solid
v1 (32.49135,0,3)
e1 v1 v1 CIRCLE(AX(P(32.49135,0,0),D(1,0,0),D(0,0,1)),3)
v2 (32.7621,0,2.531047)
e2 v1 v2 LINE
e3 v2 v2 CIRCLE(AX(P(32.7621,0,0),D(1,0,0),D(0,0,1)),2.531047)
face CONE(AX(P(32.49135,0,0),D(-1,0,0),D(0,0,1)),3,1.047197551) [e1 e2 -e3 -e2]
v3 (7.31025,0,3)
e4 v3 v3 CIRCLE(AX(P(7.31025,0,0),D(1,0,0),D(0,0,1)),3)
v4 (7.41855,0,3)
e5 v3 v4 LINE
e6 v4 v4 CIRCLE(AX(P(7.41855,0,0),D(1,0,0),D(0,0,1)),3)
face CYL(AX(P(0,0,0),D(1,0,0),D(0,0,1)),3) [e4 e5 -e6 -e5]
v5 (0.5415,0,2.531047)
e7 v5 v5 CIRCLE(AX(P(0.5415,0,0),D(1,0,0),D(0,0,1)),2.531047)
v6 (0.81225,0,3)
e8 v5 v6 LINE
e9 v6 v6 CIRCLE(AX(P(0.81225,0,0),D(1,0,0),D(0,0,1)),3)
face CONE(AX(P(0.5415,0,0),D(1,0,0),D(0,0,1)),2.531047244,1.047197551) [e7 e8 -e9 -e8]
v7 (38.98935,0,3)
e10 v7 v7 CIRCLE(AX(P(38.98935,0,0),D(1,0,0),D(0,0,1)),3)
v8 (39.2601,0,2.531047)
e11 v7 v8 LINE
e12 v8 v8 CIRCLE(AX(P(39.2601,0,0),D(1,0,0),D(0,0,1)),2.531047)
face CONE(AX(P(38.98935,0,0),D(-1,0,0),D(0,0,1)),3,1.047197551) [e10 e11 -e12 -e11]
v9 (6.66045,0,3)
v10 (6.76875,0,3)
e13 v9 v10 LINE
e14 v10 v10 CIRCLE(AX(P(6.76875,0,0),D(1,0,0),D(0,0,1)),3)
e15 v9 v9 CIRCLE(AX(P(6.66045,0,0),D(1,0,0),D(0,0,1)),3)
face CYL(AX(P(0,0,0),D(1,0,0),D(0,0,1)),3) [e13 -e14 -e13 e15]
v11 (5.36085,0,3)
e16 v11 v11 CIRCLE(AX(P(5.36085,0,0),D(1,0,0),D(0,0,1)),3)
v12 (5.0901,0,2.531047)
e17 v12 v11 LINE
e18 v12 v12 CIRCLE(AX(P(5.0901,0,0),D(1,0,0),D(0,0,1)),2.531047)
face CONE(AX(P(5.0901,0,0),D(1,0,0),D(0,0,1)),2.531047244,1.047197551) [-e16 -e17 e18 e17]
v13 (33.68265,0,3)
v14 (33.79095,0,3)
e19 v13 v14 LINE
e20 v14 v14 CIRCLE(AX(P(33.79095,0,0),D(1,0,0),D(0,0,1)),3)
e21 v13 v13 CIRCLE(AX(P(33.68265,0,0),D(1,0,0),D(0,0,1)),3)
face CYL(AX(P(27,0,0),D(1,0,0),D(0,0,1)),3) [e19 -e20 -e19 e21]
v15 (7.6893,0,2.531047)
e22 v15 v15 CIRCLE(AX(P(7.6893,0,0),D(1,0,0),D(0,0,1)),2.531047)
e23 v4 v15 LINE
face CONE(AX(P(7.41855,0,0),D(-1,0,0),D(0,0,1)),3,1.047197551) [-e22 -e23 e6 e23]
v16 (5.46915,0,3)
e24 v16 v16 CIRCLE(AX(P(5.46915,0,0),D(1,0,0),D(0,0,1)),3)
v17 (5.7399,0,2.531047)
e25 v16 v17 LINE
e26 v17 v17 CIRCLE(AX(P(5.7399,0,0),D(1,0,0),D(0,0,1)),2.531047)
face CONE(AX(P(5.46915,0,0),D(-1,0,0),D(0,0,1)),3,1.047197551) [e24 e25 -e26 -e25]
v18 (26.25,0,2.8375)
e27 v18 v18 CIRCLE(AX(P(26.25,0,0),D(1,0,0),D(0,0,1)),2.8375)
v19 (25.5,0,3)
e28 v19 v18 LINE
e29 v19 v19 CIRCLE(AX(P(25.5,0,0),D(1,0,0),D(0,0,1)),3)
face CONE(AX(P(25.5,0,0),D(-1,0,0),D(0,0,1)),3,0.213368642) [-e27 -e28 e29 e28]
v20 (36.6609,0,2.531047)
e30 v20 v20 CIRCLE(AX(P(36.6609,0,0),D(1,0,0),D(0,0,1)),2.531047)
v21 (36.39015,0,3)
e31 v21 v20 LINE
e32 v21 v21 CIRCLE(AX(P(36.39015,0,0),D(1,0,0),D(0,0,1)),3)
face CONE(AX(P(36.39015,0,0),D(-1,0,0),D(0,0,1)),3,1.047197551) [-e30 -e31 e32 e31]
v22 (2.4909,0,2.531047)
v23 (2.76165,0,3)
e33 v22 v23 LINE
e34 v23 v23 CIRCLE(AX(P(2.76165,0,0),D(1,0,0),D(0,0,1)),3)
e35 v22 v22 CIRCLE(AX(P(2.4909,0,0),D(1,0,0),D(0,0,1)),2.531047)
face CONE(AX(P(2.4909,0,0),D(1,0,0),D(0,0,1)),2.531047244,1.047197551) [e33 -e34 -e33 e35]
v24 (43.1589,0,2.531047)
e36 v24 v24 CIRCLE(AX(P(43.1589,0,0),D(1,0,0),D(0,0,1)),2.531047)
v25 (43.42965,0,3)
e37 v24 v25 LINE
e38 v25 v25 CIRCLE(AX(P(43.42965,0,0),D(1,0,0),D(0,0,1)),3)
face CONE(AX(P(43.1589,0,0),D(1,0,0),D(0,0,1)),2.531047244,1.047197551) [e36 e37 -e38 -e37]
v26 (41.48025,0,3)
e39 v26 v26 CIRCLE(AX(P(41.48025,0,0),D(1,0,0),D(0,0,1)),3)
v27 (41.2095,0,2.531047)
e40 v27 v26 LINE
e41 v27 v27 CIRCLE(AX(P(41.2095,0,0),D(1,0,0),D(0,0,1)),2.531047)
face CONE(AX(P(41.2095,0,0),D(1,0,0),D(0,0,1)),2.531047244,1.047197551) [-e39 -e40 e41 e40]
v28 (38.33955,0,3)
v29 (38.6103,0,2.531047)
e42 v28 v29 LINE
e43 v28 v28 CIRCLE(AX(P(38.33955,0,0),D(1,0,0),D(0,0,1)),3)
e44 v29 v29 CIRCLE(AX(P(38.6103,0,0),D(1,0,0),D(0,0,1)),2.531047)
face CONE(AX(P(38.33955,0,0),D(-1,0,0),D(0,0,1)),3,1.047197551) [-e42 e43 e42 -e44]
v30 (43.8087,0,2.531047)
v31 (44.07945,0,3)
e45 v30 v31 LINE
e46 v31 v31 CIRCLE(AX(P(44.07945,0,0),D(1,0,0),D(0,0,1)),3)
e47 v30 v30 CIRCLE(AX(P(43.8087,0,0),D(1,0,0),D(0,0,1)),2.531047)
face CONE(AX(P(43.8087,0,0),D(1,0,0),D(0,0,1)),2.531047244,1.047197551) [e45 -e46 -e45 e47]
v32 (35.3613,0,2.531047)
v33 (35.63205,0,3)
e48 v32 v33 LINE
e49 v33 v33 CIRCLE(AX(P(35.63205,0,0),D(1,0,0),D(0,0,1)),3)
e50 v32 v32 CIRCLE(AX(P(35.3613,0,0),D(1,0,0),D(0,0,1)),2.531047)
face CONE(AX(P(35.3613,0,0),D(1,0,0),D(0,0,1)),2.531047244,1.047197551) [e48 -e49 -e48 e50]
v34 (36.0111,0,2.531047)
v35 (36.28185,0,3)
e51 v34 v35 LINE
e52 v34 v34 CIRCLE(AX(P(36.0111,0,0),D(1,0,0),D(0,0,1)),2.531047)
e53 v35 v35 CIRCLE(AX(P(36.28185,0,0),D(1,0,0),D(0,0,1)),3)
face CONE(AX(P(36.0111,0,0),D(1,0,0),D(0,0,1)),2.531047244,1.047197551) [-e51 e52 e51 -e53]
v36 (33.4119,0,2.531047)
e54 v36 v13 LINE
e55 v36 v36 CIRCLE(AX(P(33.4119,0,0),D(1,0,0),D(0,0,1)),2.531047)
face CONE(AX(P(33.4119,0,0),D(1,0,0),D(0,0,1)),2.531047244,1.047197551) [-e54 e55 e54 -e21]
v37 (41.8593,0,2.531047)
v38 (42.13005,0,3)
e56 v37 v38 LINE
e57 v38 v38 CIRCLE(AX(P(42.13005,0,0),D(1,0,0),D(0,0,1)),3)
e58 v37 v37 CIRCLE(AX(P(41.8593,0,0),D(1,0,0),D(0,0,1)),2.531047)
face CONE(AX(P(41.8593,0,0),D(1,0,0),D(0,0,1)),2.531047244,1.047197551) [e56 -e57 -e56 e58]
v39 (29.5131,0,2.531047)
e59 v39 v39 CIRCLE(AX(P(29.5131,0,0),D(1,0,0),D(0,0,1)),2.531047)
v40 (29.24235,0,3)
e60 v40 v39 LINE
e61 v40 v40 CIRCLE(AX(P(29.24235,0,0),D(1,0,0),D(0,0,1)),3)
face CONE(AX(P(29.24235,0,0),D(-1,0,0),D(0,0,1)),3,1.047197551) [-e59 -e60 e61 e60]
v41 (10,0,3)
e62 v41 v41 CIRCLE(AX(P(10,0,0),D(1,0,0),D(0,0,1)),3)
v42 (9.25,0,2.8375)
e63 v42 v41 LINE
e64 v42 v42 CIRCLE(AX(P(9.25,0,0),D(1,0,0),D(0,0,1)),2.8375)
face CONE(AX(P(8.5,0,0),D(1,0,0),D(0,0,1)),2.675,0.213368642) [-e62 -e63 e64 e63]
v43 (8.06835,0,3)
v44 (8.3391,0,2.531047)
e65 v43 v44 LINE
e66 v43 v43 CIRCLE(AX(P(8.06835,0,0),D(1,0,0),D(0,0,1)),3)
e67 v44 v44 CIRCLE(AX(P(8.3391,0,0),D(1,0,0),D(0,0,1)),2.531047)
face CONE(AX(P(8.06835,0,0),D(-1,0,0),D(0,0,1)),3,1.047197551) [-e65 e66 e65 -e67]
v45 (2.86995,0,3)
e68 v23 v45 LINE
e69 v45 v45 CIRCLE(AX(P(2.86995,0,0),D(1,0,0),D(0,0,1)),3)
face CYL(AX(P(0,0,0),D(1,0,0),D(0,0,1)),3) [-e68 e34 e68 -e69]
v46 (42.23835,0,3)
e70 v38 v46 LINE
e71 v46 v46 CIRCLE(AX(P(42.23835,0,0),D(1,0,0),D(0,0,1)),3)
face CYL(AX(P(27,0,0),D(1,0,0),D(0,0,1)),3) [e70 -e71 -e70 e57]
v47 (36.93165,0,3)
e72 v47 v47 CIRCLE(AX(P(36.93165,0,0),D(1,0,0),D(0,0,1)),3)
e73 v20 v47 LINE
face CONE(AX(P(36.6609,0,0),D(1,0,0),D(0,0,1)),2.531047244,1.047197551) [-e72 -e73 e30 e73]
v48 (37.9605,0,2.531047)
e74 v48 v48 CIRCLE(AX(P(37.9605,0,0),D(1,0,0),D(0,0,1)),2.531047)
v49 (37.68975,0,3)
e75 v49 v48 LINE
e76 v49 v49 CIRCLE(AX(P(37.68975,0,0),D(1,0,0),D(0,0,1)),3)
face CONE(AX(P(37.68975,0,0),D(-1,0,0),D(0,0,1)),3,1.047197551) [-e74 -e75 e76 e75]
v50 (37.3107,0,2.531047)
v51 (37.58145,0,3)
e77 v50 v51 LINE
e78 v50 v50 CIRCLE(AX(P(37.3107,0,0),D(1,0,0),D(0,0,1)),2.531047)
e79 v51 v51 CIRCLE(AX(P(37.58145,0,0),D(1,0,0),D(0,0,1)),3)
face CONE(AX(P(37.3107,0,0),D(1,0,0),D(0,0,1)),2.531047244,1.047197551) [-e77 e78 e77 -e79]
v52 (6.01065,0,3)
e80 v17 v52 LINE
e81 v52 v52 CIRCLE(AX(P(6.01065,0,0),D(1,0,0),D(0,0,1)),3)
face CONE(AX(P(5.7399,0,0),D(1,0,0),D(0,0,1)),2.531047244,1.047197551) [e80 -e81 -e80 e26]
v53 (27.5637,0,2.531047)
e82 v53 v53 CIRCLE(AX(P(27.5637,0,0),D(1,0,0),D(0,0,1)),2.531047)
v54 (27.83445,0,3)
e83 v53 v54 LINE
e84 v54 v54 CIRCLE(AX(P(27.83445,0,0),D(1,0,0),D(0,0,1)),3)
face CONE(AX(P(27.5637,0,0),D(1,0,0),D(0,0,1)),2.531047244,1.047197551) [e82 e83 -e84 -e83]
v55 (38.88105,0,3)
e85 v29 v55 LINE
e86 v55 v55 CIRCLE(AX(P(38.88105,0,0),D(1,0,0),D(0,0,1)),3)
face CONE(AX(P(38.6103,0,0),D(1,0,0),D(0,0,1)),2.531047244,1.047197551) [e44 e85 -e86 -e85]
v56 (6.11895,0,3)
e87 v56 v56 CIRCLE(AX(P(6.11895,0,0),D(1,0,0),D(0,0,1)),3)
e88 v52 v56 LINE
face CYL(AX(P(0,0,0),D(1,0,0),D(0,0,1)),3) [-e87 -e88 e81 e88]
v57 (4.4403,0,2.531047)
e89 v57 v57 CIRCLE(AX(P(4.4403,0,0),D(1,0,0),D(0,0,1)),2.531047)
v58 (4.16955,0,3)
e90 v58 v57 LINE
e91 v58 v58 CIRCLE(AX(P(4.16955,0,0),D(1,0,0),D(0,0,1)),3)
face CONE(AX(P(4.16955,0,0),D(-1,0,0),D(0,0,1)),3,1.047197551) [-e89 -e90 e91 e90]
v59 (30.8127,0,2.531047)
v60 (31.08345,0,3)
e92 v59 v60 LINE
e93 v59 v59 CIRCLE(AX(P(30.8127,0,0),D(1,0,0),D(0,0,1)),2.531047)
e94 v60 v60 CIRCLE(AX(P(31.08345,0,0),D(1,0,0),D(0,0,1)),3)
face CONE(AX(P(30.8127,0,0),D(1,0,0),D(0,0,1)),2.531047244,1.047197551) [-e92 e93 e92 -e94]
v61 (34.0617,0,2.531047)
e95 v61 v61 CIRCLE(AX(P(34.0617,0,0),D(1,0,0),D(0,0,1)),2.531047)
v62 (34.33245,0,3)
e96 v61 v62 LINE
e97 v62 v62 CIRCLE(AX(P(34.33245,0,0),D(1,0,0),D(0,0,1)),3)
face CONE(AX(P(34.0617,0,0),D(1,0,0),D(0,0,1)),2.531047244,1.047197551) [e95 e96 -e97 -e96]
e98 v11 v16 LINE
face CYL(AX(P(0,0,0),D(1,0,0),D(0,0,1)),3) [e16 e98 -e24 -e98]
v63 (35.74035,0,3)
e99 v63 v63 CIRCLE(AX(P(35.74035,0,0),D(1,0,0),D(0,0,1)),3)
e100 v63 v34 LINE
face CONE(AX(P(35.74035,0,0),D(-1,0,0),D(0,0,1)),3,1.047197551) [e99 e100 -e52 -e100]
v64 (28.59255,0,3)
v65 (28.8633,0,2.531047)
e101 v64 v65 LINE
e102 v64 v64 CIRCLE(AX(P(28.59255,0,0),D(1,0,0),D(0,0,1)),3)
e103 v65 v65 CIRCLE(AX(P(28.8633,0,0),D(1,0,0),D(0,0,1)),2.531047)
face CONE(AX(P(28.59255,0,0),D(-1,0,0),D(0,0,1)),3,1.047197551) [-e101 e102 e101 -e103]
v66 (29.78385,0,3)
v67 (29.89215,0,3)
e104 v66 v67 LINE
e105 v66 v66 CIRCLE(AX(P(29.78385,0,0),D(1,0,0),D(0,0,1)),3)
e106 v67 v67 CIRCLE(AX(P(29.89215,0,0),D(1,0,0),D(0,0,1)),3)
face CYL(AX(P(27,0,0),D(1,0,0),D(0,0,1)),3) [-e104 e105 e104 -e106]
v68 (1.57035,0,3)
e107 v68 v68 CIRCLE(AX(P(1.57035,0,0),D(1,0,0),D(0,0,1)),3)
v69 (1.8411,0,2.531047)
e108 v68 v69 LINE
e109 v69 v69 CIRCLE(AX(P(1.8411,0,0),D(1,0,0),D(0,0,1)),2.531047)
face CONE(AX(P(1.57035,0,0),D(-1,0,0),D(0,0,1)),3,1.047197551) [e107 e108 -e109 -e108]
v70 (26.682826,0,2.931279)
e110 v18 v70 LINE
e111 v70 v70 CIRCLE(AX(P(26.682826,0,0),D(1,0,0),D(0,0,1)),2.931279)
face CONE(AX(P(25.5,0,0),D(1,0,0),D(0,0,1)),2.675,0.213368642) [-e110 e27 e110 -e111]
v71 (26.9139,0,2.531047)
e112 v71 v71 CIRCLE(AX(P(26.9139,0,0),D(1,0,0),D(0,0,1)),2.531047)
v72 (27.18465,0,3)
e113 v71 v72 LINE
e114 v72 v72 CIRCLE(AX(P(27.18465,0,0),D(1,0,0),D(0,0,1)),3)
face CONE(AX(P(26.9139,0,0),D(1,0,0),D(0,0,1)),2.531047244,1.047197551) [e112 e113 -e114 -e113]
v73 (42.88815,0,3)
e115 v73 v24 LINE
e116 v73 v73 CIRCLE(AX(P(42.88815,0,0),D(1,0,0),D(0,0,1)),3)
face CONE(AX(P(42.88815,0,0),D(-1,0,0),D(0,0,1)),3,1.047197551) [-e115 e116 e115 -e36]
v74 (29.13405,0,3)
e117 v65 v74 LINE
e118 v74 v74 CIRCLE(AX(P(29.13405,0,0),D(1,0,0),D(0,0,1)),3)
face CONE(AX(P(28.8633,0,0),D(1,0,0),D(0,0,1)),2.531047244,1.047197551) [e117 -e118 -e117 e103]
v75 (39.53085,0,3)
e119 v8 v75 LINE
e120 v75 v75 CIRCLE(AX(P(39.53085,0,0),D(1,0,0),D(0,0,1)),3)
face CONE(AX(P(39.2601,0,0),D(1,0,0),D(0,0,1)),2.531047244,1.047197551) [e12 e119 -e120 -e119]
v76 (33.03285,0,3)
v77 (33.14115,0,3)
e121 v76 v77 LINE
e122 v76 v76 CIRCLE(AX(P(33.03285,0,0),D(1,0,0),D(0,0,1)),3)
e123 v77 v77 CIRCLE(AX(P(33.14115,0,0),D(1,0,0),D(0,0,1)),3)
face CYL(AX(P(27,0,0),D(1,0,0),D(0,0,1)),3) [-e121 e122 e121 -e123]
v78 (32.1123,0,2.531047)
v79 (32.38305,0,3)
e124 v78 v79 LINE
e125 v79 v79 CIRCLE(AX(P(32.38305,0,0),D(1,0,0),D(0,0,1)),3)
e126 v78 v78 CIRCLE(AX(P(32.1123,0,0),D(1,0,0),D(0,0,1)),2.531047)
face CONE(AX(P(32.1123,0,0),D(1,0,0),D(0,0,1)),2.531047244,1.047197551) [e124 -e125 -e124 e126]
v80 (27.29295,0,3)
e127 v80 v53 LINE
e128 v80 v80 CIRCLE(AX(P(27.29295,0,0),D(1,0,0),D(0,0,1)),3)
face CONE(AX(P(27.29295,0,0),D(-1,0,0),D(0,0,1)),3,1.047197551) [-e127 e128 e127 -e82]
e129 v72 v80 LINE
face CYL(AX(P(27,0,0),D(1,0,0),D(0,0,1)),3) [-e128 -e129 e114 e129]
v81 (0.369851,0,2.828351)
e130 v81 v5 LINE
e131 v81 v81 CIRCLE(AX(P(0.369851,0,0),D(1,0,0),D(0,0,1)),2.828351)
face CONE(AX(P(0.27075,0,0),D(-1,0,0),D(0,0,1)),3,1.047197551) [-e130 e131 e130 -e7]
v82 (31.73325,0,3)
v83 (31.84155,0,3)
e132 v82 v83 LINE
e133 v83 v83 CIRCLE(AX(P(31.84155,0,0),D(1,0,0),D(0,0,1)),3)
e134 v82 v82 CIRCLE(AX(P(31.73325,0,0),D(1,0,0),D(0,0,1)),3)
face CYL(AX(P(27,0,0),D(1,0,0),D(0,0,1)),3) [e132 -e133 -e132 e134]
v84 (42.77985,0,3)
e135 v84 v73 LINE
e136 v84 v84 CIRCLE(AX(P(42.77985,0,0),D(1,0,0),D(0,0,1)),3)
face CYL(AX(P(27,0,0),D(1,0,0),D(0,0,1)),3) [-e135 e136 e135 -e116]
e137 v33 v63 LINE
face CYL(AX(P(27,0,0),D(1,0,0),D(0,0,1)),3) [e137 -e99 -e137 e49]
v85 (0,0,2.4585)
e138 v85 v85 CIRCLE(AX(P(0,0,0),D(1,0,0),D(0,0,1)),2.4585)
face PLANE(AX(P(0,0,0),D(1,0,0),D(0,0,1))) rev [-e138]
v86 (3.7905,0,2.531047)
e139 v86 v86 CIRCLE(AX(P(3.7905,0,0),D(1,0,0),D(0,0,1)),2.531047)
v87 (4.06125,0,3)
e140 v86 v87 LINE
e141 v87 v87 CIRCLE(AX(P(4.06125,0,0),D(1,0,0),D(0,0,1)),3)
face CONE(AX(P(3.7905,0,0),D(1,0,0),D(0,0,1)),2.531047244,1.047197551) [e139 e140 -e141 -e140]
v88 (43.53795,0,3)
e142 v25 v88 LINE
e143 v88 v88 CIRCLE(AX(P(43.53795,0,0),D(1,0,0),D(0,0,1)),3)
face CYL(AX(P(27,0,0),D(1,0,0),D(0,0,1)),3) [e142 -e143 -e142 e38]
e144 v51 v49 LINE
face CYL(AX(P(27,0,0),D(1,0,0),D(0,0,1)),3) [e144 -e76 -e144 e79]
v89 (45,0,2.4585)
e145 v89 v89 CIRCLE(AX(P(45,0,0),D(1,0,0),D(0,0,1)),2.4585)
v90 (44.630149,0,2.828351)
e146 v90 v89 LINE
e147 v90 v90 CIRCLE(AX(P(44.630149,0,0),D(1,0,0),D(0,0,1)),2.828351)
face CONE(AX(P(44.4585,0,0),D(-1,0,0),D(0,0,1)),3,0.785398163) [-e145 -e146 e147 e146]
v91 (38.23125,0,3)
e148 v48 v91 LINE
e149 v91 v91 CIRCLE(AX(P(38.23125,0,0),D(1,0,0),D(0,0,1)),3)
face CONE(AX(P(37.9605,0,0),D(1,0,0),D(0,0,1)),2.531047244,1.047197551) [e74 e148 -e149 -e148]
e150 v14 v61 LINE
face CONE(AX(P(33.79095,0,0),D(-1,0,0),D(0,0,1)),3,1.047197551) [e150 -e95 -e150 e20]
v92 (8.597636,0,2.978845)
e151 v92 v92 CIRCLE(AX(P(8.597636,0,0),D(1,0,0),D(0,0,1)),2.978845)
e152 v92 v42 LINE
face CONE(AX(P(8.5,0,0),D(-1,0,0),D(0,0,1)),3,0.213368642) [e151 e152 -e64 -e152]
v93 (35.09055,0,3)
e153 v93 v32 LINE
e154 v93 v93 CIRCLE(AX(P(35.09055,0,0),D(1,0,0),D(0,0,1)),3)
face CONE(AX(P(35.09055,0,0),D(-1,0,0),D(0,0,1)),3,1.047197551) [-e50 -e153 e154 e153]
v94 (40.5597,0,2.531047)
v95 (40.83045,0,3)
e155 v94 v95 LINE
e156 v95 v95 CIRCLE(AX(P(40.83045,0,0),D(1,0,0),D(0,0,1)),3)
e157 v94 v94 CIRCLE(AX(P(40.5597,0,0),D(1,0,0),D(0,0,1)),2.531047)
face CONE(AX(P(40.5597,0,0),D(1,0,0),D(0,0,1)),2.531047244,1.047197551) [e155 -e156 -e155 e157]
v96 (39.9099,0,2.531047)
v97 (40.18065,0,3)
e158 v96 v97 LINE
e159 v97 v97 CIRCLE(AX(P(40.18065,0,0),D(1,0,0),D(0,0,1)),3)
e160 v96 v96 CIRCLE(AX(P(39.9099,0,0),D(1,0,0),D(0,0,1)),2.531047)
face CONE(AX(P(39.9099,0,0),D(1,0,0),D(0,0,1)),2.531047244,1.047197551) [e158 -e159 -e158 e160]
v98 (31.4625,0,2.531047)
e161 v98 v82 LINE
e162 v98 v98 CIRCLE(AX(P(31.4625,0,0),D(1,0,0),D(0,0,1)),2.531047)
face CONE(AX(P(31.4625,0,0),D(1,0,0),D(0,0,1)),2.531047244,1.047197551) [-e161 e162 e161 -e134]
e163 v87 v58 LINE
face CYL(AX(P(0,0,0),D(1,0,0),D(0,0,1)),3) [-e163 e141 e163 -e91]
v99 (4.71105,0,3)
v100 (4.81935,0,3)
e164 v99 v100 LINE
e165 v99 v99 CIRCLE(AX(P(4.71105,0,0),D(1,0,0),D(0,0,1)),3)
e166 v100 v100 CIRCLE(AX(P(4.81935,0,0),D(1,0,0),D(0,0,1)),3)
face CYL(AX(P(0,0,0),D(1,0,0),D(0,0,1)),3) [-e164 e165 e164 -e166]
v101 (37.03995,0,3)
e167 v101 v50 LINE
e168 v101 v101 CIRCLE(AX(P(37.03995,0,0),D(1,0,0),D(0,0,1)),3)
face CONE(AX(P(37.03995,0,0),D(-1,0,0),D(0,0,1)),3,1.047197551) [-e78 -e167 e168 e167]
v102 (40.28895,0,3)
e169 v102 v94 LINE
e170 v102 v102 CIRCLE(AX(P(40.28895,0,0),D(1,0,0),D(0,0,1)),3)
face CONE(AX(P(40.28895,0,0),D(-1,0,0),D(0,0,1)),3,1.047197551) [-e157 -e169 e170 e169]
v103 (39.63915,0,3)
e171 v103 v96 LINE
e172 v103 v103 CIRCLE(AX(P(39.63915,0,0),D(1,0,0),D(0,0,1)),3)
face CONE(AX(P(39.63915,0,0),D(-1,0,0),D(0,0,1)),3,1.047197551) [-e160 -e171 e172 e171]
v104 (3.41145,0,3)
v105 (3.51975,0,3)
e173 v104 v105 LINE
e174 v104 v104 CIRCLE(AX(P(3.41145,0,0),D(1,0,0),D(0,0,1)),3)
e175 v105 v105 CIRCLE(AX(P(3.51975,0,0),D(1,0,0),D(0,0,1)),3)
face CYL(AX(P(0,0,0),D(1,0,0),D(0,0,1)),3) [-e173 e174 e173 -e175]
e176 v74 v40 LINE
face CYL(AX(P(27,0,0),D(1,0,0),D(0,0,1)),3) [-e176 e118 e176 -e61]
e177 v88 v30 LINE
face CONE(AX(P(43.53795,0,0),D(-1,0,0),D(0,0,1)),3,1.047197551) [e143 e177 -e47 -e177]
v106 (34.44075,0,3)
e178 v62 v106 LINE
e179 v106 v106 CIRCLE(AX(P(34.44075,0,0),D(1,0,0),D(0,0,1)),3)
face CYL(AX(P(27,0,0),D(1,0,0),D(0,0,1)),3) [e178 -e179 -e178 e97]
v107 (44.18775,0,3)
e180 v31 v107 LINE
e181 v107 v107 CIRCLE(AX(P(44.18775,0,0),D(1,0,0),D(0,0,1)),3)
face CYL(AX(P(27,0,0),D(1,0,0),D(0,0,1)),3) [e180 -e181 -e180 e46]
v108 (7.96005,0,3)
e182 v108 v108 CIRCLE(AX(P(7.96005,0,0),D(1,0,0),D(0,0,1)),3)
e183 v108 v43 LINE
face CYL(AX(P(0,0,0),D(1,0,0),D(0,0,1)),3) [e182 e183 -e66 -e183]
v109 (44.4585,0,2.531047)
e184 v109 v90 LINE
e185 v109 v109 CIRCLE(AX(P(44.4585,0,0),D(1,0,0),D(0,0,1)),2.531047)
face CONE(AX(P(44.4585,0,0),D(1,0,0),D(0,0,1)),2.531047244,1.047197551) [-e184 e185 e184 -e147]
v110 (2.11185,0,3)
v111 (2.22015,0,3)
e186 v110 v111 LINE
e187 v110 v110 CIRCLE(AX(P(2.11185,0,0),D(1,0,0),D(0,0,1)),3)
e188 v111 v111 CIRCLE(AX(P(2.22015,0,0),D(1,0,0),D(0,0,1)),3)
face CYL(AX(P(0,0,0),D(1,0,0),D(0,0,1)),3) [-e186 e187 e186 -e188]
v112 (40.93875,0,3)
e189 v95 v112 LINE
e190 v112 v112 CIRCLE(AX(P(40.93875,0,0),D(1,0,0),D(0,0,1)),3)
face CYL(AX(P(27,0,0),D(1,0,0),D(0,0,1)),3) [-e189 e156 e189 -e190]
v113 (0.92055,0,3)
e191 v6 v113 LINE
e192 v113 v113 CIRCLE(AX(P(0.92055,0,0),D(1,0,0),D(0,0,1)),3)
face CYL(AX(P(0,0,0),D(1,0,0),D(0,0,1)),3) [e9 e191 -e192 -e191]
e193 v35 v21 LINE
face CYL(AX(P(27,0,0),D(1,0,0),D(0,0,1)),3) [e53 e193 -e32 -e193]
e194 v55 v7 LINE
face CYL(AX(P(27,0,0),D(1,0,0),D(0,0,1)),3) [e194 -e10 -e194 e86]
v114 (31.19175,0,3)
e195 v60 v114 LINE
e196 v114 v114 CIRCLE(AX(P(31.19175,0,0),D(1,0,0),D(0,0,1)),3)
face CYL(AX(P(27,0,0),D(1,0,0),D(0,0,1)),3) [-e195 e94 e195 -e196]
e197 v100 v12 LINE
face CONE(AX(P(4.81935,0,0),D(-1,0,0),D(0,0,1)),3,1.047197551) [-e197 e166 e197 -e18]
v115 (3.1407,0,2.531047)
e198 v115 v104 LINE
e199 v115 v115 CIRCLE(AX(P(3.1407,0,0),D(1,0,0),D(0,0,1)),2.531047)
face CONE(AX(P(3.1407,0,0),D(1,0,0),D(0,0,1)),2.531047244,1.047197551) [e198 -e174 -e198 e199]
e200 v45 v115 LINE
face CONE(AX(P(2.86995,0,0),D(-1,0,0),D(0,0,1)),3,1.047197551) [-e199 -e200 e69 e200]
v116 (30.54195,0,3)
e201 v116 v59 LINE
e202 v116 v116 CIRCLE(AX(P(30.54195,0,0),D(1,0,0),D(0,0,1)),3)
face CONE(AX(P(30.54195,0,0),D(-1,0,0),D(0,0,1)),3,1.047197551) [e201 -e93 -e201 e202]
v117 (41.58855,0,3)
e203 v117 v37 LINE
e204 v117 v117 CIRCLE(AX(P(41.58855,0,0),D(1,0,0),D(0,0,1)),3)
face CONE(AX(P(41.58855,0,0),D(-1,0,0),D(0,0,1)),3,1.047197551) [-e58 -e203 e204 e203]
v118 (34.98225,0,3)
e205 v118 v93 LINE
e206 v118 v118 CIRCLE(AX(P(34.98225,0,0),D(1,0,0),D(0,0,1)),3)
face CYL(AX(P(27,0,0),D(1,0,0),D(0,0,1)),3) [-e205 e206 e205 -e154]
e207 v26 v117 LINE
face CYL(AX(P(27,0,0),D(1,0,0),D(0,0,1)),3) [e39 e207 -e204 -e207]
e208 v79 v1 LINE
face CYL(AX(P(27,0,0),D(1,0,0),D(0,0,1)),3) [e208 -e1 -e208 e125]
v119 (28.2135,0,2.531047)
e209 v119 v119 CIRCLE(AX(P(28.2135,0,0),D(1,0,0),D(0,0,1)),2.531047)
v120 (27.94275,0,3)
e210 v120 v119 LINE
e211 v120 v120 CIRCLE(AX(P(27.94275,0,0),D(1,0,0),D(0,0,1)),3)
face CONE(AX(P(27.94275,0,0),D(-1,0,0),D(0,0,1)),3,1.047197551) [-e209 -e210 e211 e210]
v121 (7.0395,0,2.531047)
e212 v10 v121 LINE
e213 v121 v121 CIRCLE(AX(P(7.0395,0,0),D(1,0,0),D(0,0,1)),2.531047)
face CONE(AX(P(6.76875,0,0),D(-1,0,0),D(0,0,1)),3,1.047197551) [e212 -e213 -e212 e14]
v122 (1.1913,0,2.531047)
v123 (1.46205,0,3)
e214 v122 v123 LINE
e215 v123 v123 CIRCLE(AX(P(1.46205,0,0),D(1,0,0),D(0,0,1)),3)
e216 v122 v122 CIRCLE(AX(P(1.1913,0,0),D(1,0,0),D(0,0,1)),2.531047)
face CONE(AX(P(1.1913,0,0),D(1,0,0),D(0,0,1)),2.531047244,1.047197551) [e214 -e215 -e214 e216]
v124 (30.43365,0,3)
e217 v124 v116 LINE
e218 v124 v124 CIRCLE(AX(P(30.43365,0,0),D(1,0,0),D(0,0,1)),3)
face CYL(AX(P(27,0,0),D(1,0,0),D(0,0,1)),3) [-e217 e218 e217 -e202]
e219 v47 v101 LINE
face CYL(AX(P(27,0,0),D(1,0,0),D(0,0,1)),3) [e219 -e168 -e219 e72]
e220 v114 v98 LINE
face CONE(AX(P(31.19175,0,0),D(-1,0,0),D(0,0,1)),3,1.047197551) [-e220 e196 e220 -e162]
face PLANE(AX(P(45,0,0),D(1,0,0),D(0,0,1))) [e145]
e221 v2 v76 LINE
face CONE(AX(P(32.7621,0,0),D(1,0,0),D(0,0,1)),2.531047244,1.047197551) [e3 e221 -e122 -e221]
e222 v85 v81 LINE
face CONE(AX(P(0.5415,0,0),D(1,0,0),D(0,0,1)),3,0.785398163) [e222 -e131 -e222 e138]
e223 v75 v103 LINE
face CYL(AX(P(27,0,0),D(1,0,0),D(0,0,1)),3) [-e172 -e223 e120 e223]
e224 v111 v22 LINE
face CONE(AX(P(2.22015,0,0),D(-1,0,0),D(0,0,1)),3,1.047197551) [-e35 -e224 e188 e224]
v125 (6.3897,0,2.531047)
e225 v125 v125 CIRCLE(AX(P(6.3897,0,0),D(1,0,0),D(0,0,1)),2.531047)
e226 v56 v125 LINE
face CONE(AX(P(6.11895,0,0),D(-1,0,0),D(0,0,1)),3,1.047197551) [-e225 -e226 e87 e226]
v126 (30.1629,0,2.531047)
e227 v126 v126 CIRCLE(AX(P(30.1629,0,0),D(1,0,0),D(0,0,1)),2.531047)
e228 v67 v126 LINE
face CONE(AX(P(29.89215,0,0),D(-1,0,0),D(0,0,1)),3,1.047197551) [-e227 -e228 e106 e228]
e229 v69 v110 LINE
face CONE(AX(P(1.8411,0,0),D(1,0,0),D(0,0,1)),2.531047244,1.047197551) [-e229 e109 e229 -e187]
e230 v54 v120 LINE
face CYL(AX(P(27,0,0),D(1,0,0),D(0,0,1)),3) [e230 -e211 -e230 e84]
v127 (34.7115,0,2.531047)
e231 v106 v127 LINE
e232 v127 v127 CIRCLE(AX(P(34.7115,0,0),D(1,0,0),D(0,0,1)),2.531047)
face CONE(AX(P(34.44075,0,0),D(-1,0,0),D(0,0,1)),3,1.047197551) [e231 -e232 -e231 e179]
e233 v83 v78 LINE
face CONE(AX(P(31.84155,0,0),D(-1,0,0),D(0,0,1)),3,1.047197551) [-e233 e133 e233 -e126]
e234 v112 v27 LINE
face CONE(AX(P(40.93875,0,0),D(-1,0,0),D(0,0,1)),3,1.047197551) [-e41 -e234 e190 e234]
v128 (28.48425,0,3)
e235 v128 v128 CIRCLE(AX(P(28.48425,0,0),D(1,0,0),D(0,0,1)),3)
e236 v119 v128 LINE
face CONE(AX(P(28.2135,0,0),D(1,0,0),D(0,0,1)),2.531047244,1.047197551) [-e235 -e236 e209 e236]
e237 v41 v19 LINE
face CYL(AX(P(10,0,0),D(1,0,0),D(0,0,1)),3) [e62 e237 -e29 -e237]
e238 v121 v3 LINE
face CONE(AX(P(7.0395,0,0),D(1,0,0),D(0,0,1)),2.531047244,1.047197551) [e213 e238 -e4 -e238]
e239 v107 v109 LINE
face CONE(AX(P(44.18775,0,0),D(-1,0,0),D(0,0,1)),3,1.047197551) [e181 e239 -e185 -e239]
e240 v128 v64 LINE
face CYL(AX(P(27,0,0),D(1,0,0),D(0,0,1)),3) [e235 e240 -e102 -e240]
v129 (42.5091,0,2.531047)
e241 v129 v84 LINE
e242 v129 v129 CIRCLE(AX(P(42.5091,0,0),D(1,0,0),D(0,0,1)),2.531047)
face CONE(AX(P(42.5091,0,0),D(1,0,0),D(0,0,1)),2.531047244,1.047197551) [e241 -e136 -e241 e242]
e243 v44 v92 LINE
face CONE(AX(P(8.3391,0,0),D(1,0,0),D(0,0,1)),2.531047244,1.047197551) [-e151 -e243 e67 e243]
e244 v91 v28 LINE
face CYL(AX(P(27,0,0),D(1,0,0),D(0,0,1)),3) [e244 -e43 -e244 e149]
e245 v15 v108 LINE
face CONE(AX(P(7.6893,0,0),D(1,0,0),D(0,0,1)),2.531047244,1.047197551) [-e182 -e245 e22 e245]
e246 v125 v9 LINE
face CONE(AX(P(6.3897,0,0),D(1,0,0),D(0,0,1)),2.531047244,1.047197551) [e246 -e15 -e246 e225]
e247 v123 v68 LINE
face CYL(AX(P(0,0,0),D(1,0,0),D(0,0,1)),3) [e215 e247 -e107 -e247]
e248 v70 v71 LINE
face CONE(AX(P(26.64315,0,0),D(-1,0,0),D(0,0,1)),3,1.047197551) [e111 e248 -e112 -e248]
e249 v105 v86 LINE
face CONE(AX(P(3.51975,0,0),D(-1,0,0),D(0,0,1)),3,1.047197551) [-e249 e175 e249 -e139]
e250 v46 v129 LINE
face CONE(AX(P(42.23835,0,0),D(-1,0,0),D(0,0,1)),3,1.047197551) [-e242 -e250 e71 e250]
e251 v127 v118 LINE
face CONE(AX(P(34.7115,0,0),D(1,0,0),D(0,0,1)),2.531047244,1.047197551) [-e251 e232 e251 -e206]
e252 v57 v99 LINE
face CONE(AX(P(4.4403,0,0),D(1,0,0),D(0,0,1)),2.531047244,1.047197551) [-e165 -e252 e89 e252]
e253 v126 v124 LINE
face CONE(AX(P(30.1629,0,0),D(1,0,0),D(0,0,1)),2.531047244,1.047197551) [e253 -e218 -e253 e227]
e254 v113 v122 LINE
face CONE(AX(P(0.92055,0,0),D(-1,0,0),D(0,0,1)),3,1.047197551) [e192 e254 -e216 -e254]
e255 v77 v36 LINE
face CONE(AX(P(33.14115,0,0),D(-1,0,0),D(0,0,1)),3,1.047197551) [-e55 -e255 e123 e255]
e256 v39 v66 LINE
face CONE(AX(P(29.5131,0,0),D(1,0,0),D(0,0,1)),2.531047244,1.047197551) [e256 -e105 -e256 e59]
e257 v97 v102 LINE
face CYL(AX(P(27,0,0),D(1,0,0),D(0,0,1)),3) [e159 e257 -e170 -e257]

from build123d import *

# Parameters (mm, degrees)
HEADCHAMFER_SIZE = 0.5415
LPATTERN10_COUNT = 28
LPATTERN10_PITCH = 0.6498
LPATTERN11_COUNT = 13
LPATTERN11_PITCH = 0.6498


with BuildPart() as part:
    # Sketch1 → BaseHead (revolve)
    with BuildSketch(Plane.XY, mode=Mode.PRIVATE) as basehead_sk:
        Polygon((0, 0), (0, 3), (8.5, 3), (10, 2.675), (25.5, 2.675), (27, 3), (45, 3), (45, 0), align=None)
    revolve(basehead_sk.sketch.rotate(Axis((-1.310841664, 0, 0), (1, 0, 0)), 90), axis=Axis((-1.310841664, 0, 0), (1, 0, 0)))

    # HeadChamfer
    headchamfer_edges = [part.edges().sort_by_distance(p)[0] for p in [
        (45, 0, -3),
        (0, 0, -3),
    ]]
    chamfer(headchamfer_edges, length=HEADCHAMFER_SIZE)

    # Sketch2 → BaseBody (revolve)
    with BuildSketch(Plane.XY, mode=Mode.PRIVATE) as basebody_sk:
        Polygon((8.5, 2.675), (10, 3), (25.5, 3), (27, 2.675), align=None)
    revolve(basebody_sk.sketch.rotate(Axis((-1.310841664, 0, 0), (1, 0, 0)), 90), axis=Axis((-1.310841664, 0, 0), (1, 0, 0)))

    # Sketch3 → Cut-Revolve10 (revolve, cut)
    with BuildSketch(Plane.XY, mode=Mode.PRIVATE) as cut_revolve10_sk:
        Polygon((44.4585, 2.531047244), (44.72925, 3), (44.72925, 3.5), (44.18775, 3.5), (44.18775, 3), align=None)
    cut_revolve10 = revolve(cut_revolve10_sk.sketch.rotate(Axis((0, 0, 0), (1, 0, 0)), 90), axis=Axis((0, 0, 0), (1, 0, 0)), mode=Mode.SUBTRACT)

    # LPattern10: Cut-Revolve10 ×28
    with Locations(*[(-i * LPATTERN10_PITCH, 0, 0) for i in range(1, LPATTERN10_COUNT)]):
        add(cut_revolve10, mode=Mode.SUBTRACT)

    # Sketch4 → Cut-Revolve11 (revolve, cut)
    with BuildSketch(Plane.XY, mode=Mode.PRIVATE) as cut_revolve11_sk:
        Polygon((0.5415, 2.531047244), (0.81225, 3), (0.81225, 3.5), (0.27075, 3.5), (0.27075, 3), align=None)
    cut_revolve11 = revolve(cut_revolve11_sk.sketch.rotate(Axis((0, 0, 0), (1, 0, 0)), 90), axis=Axis((0, 0, 0), (1, 0, 0)), mode=Mode.SUBTRACT)

    # LPattern11: Cut-Revolve11 ×13
    with Locations(*[(i * LPATTERN11_PITCH, 0, 0) for i in range(1, LPATTERN11_COUNT)]):
        add(cut_revolve11, mode=Mode.SUBTRACT)


solid = part.part
